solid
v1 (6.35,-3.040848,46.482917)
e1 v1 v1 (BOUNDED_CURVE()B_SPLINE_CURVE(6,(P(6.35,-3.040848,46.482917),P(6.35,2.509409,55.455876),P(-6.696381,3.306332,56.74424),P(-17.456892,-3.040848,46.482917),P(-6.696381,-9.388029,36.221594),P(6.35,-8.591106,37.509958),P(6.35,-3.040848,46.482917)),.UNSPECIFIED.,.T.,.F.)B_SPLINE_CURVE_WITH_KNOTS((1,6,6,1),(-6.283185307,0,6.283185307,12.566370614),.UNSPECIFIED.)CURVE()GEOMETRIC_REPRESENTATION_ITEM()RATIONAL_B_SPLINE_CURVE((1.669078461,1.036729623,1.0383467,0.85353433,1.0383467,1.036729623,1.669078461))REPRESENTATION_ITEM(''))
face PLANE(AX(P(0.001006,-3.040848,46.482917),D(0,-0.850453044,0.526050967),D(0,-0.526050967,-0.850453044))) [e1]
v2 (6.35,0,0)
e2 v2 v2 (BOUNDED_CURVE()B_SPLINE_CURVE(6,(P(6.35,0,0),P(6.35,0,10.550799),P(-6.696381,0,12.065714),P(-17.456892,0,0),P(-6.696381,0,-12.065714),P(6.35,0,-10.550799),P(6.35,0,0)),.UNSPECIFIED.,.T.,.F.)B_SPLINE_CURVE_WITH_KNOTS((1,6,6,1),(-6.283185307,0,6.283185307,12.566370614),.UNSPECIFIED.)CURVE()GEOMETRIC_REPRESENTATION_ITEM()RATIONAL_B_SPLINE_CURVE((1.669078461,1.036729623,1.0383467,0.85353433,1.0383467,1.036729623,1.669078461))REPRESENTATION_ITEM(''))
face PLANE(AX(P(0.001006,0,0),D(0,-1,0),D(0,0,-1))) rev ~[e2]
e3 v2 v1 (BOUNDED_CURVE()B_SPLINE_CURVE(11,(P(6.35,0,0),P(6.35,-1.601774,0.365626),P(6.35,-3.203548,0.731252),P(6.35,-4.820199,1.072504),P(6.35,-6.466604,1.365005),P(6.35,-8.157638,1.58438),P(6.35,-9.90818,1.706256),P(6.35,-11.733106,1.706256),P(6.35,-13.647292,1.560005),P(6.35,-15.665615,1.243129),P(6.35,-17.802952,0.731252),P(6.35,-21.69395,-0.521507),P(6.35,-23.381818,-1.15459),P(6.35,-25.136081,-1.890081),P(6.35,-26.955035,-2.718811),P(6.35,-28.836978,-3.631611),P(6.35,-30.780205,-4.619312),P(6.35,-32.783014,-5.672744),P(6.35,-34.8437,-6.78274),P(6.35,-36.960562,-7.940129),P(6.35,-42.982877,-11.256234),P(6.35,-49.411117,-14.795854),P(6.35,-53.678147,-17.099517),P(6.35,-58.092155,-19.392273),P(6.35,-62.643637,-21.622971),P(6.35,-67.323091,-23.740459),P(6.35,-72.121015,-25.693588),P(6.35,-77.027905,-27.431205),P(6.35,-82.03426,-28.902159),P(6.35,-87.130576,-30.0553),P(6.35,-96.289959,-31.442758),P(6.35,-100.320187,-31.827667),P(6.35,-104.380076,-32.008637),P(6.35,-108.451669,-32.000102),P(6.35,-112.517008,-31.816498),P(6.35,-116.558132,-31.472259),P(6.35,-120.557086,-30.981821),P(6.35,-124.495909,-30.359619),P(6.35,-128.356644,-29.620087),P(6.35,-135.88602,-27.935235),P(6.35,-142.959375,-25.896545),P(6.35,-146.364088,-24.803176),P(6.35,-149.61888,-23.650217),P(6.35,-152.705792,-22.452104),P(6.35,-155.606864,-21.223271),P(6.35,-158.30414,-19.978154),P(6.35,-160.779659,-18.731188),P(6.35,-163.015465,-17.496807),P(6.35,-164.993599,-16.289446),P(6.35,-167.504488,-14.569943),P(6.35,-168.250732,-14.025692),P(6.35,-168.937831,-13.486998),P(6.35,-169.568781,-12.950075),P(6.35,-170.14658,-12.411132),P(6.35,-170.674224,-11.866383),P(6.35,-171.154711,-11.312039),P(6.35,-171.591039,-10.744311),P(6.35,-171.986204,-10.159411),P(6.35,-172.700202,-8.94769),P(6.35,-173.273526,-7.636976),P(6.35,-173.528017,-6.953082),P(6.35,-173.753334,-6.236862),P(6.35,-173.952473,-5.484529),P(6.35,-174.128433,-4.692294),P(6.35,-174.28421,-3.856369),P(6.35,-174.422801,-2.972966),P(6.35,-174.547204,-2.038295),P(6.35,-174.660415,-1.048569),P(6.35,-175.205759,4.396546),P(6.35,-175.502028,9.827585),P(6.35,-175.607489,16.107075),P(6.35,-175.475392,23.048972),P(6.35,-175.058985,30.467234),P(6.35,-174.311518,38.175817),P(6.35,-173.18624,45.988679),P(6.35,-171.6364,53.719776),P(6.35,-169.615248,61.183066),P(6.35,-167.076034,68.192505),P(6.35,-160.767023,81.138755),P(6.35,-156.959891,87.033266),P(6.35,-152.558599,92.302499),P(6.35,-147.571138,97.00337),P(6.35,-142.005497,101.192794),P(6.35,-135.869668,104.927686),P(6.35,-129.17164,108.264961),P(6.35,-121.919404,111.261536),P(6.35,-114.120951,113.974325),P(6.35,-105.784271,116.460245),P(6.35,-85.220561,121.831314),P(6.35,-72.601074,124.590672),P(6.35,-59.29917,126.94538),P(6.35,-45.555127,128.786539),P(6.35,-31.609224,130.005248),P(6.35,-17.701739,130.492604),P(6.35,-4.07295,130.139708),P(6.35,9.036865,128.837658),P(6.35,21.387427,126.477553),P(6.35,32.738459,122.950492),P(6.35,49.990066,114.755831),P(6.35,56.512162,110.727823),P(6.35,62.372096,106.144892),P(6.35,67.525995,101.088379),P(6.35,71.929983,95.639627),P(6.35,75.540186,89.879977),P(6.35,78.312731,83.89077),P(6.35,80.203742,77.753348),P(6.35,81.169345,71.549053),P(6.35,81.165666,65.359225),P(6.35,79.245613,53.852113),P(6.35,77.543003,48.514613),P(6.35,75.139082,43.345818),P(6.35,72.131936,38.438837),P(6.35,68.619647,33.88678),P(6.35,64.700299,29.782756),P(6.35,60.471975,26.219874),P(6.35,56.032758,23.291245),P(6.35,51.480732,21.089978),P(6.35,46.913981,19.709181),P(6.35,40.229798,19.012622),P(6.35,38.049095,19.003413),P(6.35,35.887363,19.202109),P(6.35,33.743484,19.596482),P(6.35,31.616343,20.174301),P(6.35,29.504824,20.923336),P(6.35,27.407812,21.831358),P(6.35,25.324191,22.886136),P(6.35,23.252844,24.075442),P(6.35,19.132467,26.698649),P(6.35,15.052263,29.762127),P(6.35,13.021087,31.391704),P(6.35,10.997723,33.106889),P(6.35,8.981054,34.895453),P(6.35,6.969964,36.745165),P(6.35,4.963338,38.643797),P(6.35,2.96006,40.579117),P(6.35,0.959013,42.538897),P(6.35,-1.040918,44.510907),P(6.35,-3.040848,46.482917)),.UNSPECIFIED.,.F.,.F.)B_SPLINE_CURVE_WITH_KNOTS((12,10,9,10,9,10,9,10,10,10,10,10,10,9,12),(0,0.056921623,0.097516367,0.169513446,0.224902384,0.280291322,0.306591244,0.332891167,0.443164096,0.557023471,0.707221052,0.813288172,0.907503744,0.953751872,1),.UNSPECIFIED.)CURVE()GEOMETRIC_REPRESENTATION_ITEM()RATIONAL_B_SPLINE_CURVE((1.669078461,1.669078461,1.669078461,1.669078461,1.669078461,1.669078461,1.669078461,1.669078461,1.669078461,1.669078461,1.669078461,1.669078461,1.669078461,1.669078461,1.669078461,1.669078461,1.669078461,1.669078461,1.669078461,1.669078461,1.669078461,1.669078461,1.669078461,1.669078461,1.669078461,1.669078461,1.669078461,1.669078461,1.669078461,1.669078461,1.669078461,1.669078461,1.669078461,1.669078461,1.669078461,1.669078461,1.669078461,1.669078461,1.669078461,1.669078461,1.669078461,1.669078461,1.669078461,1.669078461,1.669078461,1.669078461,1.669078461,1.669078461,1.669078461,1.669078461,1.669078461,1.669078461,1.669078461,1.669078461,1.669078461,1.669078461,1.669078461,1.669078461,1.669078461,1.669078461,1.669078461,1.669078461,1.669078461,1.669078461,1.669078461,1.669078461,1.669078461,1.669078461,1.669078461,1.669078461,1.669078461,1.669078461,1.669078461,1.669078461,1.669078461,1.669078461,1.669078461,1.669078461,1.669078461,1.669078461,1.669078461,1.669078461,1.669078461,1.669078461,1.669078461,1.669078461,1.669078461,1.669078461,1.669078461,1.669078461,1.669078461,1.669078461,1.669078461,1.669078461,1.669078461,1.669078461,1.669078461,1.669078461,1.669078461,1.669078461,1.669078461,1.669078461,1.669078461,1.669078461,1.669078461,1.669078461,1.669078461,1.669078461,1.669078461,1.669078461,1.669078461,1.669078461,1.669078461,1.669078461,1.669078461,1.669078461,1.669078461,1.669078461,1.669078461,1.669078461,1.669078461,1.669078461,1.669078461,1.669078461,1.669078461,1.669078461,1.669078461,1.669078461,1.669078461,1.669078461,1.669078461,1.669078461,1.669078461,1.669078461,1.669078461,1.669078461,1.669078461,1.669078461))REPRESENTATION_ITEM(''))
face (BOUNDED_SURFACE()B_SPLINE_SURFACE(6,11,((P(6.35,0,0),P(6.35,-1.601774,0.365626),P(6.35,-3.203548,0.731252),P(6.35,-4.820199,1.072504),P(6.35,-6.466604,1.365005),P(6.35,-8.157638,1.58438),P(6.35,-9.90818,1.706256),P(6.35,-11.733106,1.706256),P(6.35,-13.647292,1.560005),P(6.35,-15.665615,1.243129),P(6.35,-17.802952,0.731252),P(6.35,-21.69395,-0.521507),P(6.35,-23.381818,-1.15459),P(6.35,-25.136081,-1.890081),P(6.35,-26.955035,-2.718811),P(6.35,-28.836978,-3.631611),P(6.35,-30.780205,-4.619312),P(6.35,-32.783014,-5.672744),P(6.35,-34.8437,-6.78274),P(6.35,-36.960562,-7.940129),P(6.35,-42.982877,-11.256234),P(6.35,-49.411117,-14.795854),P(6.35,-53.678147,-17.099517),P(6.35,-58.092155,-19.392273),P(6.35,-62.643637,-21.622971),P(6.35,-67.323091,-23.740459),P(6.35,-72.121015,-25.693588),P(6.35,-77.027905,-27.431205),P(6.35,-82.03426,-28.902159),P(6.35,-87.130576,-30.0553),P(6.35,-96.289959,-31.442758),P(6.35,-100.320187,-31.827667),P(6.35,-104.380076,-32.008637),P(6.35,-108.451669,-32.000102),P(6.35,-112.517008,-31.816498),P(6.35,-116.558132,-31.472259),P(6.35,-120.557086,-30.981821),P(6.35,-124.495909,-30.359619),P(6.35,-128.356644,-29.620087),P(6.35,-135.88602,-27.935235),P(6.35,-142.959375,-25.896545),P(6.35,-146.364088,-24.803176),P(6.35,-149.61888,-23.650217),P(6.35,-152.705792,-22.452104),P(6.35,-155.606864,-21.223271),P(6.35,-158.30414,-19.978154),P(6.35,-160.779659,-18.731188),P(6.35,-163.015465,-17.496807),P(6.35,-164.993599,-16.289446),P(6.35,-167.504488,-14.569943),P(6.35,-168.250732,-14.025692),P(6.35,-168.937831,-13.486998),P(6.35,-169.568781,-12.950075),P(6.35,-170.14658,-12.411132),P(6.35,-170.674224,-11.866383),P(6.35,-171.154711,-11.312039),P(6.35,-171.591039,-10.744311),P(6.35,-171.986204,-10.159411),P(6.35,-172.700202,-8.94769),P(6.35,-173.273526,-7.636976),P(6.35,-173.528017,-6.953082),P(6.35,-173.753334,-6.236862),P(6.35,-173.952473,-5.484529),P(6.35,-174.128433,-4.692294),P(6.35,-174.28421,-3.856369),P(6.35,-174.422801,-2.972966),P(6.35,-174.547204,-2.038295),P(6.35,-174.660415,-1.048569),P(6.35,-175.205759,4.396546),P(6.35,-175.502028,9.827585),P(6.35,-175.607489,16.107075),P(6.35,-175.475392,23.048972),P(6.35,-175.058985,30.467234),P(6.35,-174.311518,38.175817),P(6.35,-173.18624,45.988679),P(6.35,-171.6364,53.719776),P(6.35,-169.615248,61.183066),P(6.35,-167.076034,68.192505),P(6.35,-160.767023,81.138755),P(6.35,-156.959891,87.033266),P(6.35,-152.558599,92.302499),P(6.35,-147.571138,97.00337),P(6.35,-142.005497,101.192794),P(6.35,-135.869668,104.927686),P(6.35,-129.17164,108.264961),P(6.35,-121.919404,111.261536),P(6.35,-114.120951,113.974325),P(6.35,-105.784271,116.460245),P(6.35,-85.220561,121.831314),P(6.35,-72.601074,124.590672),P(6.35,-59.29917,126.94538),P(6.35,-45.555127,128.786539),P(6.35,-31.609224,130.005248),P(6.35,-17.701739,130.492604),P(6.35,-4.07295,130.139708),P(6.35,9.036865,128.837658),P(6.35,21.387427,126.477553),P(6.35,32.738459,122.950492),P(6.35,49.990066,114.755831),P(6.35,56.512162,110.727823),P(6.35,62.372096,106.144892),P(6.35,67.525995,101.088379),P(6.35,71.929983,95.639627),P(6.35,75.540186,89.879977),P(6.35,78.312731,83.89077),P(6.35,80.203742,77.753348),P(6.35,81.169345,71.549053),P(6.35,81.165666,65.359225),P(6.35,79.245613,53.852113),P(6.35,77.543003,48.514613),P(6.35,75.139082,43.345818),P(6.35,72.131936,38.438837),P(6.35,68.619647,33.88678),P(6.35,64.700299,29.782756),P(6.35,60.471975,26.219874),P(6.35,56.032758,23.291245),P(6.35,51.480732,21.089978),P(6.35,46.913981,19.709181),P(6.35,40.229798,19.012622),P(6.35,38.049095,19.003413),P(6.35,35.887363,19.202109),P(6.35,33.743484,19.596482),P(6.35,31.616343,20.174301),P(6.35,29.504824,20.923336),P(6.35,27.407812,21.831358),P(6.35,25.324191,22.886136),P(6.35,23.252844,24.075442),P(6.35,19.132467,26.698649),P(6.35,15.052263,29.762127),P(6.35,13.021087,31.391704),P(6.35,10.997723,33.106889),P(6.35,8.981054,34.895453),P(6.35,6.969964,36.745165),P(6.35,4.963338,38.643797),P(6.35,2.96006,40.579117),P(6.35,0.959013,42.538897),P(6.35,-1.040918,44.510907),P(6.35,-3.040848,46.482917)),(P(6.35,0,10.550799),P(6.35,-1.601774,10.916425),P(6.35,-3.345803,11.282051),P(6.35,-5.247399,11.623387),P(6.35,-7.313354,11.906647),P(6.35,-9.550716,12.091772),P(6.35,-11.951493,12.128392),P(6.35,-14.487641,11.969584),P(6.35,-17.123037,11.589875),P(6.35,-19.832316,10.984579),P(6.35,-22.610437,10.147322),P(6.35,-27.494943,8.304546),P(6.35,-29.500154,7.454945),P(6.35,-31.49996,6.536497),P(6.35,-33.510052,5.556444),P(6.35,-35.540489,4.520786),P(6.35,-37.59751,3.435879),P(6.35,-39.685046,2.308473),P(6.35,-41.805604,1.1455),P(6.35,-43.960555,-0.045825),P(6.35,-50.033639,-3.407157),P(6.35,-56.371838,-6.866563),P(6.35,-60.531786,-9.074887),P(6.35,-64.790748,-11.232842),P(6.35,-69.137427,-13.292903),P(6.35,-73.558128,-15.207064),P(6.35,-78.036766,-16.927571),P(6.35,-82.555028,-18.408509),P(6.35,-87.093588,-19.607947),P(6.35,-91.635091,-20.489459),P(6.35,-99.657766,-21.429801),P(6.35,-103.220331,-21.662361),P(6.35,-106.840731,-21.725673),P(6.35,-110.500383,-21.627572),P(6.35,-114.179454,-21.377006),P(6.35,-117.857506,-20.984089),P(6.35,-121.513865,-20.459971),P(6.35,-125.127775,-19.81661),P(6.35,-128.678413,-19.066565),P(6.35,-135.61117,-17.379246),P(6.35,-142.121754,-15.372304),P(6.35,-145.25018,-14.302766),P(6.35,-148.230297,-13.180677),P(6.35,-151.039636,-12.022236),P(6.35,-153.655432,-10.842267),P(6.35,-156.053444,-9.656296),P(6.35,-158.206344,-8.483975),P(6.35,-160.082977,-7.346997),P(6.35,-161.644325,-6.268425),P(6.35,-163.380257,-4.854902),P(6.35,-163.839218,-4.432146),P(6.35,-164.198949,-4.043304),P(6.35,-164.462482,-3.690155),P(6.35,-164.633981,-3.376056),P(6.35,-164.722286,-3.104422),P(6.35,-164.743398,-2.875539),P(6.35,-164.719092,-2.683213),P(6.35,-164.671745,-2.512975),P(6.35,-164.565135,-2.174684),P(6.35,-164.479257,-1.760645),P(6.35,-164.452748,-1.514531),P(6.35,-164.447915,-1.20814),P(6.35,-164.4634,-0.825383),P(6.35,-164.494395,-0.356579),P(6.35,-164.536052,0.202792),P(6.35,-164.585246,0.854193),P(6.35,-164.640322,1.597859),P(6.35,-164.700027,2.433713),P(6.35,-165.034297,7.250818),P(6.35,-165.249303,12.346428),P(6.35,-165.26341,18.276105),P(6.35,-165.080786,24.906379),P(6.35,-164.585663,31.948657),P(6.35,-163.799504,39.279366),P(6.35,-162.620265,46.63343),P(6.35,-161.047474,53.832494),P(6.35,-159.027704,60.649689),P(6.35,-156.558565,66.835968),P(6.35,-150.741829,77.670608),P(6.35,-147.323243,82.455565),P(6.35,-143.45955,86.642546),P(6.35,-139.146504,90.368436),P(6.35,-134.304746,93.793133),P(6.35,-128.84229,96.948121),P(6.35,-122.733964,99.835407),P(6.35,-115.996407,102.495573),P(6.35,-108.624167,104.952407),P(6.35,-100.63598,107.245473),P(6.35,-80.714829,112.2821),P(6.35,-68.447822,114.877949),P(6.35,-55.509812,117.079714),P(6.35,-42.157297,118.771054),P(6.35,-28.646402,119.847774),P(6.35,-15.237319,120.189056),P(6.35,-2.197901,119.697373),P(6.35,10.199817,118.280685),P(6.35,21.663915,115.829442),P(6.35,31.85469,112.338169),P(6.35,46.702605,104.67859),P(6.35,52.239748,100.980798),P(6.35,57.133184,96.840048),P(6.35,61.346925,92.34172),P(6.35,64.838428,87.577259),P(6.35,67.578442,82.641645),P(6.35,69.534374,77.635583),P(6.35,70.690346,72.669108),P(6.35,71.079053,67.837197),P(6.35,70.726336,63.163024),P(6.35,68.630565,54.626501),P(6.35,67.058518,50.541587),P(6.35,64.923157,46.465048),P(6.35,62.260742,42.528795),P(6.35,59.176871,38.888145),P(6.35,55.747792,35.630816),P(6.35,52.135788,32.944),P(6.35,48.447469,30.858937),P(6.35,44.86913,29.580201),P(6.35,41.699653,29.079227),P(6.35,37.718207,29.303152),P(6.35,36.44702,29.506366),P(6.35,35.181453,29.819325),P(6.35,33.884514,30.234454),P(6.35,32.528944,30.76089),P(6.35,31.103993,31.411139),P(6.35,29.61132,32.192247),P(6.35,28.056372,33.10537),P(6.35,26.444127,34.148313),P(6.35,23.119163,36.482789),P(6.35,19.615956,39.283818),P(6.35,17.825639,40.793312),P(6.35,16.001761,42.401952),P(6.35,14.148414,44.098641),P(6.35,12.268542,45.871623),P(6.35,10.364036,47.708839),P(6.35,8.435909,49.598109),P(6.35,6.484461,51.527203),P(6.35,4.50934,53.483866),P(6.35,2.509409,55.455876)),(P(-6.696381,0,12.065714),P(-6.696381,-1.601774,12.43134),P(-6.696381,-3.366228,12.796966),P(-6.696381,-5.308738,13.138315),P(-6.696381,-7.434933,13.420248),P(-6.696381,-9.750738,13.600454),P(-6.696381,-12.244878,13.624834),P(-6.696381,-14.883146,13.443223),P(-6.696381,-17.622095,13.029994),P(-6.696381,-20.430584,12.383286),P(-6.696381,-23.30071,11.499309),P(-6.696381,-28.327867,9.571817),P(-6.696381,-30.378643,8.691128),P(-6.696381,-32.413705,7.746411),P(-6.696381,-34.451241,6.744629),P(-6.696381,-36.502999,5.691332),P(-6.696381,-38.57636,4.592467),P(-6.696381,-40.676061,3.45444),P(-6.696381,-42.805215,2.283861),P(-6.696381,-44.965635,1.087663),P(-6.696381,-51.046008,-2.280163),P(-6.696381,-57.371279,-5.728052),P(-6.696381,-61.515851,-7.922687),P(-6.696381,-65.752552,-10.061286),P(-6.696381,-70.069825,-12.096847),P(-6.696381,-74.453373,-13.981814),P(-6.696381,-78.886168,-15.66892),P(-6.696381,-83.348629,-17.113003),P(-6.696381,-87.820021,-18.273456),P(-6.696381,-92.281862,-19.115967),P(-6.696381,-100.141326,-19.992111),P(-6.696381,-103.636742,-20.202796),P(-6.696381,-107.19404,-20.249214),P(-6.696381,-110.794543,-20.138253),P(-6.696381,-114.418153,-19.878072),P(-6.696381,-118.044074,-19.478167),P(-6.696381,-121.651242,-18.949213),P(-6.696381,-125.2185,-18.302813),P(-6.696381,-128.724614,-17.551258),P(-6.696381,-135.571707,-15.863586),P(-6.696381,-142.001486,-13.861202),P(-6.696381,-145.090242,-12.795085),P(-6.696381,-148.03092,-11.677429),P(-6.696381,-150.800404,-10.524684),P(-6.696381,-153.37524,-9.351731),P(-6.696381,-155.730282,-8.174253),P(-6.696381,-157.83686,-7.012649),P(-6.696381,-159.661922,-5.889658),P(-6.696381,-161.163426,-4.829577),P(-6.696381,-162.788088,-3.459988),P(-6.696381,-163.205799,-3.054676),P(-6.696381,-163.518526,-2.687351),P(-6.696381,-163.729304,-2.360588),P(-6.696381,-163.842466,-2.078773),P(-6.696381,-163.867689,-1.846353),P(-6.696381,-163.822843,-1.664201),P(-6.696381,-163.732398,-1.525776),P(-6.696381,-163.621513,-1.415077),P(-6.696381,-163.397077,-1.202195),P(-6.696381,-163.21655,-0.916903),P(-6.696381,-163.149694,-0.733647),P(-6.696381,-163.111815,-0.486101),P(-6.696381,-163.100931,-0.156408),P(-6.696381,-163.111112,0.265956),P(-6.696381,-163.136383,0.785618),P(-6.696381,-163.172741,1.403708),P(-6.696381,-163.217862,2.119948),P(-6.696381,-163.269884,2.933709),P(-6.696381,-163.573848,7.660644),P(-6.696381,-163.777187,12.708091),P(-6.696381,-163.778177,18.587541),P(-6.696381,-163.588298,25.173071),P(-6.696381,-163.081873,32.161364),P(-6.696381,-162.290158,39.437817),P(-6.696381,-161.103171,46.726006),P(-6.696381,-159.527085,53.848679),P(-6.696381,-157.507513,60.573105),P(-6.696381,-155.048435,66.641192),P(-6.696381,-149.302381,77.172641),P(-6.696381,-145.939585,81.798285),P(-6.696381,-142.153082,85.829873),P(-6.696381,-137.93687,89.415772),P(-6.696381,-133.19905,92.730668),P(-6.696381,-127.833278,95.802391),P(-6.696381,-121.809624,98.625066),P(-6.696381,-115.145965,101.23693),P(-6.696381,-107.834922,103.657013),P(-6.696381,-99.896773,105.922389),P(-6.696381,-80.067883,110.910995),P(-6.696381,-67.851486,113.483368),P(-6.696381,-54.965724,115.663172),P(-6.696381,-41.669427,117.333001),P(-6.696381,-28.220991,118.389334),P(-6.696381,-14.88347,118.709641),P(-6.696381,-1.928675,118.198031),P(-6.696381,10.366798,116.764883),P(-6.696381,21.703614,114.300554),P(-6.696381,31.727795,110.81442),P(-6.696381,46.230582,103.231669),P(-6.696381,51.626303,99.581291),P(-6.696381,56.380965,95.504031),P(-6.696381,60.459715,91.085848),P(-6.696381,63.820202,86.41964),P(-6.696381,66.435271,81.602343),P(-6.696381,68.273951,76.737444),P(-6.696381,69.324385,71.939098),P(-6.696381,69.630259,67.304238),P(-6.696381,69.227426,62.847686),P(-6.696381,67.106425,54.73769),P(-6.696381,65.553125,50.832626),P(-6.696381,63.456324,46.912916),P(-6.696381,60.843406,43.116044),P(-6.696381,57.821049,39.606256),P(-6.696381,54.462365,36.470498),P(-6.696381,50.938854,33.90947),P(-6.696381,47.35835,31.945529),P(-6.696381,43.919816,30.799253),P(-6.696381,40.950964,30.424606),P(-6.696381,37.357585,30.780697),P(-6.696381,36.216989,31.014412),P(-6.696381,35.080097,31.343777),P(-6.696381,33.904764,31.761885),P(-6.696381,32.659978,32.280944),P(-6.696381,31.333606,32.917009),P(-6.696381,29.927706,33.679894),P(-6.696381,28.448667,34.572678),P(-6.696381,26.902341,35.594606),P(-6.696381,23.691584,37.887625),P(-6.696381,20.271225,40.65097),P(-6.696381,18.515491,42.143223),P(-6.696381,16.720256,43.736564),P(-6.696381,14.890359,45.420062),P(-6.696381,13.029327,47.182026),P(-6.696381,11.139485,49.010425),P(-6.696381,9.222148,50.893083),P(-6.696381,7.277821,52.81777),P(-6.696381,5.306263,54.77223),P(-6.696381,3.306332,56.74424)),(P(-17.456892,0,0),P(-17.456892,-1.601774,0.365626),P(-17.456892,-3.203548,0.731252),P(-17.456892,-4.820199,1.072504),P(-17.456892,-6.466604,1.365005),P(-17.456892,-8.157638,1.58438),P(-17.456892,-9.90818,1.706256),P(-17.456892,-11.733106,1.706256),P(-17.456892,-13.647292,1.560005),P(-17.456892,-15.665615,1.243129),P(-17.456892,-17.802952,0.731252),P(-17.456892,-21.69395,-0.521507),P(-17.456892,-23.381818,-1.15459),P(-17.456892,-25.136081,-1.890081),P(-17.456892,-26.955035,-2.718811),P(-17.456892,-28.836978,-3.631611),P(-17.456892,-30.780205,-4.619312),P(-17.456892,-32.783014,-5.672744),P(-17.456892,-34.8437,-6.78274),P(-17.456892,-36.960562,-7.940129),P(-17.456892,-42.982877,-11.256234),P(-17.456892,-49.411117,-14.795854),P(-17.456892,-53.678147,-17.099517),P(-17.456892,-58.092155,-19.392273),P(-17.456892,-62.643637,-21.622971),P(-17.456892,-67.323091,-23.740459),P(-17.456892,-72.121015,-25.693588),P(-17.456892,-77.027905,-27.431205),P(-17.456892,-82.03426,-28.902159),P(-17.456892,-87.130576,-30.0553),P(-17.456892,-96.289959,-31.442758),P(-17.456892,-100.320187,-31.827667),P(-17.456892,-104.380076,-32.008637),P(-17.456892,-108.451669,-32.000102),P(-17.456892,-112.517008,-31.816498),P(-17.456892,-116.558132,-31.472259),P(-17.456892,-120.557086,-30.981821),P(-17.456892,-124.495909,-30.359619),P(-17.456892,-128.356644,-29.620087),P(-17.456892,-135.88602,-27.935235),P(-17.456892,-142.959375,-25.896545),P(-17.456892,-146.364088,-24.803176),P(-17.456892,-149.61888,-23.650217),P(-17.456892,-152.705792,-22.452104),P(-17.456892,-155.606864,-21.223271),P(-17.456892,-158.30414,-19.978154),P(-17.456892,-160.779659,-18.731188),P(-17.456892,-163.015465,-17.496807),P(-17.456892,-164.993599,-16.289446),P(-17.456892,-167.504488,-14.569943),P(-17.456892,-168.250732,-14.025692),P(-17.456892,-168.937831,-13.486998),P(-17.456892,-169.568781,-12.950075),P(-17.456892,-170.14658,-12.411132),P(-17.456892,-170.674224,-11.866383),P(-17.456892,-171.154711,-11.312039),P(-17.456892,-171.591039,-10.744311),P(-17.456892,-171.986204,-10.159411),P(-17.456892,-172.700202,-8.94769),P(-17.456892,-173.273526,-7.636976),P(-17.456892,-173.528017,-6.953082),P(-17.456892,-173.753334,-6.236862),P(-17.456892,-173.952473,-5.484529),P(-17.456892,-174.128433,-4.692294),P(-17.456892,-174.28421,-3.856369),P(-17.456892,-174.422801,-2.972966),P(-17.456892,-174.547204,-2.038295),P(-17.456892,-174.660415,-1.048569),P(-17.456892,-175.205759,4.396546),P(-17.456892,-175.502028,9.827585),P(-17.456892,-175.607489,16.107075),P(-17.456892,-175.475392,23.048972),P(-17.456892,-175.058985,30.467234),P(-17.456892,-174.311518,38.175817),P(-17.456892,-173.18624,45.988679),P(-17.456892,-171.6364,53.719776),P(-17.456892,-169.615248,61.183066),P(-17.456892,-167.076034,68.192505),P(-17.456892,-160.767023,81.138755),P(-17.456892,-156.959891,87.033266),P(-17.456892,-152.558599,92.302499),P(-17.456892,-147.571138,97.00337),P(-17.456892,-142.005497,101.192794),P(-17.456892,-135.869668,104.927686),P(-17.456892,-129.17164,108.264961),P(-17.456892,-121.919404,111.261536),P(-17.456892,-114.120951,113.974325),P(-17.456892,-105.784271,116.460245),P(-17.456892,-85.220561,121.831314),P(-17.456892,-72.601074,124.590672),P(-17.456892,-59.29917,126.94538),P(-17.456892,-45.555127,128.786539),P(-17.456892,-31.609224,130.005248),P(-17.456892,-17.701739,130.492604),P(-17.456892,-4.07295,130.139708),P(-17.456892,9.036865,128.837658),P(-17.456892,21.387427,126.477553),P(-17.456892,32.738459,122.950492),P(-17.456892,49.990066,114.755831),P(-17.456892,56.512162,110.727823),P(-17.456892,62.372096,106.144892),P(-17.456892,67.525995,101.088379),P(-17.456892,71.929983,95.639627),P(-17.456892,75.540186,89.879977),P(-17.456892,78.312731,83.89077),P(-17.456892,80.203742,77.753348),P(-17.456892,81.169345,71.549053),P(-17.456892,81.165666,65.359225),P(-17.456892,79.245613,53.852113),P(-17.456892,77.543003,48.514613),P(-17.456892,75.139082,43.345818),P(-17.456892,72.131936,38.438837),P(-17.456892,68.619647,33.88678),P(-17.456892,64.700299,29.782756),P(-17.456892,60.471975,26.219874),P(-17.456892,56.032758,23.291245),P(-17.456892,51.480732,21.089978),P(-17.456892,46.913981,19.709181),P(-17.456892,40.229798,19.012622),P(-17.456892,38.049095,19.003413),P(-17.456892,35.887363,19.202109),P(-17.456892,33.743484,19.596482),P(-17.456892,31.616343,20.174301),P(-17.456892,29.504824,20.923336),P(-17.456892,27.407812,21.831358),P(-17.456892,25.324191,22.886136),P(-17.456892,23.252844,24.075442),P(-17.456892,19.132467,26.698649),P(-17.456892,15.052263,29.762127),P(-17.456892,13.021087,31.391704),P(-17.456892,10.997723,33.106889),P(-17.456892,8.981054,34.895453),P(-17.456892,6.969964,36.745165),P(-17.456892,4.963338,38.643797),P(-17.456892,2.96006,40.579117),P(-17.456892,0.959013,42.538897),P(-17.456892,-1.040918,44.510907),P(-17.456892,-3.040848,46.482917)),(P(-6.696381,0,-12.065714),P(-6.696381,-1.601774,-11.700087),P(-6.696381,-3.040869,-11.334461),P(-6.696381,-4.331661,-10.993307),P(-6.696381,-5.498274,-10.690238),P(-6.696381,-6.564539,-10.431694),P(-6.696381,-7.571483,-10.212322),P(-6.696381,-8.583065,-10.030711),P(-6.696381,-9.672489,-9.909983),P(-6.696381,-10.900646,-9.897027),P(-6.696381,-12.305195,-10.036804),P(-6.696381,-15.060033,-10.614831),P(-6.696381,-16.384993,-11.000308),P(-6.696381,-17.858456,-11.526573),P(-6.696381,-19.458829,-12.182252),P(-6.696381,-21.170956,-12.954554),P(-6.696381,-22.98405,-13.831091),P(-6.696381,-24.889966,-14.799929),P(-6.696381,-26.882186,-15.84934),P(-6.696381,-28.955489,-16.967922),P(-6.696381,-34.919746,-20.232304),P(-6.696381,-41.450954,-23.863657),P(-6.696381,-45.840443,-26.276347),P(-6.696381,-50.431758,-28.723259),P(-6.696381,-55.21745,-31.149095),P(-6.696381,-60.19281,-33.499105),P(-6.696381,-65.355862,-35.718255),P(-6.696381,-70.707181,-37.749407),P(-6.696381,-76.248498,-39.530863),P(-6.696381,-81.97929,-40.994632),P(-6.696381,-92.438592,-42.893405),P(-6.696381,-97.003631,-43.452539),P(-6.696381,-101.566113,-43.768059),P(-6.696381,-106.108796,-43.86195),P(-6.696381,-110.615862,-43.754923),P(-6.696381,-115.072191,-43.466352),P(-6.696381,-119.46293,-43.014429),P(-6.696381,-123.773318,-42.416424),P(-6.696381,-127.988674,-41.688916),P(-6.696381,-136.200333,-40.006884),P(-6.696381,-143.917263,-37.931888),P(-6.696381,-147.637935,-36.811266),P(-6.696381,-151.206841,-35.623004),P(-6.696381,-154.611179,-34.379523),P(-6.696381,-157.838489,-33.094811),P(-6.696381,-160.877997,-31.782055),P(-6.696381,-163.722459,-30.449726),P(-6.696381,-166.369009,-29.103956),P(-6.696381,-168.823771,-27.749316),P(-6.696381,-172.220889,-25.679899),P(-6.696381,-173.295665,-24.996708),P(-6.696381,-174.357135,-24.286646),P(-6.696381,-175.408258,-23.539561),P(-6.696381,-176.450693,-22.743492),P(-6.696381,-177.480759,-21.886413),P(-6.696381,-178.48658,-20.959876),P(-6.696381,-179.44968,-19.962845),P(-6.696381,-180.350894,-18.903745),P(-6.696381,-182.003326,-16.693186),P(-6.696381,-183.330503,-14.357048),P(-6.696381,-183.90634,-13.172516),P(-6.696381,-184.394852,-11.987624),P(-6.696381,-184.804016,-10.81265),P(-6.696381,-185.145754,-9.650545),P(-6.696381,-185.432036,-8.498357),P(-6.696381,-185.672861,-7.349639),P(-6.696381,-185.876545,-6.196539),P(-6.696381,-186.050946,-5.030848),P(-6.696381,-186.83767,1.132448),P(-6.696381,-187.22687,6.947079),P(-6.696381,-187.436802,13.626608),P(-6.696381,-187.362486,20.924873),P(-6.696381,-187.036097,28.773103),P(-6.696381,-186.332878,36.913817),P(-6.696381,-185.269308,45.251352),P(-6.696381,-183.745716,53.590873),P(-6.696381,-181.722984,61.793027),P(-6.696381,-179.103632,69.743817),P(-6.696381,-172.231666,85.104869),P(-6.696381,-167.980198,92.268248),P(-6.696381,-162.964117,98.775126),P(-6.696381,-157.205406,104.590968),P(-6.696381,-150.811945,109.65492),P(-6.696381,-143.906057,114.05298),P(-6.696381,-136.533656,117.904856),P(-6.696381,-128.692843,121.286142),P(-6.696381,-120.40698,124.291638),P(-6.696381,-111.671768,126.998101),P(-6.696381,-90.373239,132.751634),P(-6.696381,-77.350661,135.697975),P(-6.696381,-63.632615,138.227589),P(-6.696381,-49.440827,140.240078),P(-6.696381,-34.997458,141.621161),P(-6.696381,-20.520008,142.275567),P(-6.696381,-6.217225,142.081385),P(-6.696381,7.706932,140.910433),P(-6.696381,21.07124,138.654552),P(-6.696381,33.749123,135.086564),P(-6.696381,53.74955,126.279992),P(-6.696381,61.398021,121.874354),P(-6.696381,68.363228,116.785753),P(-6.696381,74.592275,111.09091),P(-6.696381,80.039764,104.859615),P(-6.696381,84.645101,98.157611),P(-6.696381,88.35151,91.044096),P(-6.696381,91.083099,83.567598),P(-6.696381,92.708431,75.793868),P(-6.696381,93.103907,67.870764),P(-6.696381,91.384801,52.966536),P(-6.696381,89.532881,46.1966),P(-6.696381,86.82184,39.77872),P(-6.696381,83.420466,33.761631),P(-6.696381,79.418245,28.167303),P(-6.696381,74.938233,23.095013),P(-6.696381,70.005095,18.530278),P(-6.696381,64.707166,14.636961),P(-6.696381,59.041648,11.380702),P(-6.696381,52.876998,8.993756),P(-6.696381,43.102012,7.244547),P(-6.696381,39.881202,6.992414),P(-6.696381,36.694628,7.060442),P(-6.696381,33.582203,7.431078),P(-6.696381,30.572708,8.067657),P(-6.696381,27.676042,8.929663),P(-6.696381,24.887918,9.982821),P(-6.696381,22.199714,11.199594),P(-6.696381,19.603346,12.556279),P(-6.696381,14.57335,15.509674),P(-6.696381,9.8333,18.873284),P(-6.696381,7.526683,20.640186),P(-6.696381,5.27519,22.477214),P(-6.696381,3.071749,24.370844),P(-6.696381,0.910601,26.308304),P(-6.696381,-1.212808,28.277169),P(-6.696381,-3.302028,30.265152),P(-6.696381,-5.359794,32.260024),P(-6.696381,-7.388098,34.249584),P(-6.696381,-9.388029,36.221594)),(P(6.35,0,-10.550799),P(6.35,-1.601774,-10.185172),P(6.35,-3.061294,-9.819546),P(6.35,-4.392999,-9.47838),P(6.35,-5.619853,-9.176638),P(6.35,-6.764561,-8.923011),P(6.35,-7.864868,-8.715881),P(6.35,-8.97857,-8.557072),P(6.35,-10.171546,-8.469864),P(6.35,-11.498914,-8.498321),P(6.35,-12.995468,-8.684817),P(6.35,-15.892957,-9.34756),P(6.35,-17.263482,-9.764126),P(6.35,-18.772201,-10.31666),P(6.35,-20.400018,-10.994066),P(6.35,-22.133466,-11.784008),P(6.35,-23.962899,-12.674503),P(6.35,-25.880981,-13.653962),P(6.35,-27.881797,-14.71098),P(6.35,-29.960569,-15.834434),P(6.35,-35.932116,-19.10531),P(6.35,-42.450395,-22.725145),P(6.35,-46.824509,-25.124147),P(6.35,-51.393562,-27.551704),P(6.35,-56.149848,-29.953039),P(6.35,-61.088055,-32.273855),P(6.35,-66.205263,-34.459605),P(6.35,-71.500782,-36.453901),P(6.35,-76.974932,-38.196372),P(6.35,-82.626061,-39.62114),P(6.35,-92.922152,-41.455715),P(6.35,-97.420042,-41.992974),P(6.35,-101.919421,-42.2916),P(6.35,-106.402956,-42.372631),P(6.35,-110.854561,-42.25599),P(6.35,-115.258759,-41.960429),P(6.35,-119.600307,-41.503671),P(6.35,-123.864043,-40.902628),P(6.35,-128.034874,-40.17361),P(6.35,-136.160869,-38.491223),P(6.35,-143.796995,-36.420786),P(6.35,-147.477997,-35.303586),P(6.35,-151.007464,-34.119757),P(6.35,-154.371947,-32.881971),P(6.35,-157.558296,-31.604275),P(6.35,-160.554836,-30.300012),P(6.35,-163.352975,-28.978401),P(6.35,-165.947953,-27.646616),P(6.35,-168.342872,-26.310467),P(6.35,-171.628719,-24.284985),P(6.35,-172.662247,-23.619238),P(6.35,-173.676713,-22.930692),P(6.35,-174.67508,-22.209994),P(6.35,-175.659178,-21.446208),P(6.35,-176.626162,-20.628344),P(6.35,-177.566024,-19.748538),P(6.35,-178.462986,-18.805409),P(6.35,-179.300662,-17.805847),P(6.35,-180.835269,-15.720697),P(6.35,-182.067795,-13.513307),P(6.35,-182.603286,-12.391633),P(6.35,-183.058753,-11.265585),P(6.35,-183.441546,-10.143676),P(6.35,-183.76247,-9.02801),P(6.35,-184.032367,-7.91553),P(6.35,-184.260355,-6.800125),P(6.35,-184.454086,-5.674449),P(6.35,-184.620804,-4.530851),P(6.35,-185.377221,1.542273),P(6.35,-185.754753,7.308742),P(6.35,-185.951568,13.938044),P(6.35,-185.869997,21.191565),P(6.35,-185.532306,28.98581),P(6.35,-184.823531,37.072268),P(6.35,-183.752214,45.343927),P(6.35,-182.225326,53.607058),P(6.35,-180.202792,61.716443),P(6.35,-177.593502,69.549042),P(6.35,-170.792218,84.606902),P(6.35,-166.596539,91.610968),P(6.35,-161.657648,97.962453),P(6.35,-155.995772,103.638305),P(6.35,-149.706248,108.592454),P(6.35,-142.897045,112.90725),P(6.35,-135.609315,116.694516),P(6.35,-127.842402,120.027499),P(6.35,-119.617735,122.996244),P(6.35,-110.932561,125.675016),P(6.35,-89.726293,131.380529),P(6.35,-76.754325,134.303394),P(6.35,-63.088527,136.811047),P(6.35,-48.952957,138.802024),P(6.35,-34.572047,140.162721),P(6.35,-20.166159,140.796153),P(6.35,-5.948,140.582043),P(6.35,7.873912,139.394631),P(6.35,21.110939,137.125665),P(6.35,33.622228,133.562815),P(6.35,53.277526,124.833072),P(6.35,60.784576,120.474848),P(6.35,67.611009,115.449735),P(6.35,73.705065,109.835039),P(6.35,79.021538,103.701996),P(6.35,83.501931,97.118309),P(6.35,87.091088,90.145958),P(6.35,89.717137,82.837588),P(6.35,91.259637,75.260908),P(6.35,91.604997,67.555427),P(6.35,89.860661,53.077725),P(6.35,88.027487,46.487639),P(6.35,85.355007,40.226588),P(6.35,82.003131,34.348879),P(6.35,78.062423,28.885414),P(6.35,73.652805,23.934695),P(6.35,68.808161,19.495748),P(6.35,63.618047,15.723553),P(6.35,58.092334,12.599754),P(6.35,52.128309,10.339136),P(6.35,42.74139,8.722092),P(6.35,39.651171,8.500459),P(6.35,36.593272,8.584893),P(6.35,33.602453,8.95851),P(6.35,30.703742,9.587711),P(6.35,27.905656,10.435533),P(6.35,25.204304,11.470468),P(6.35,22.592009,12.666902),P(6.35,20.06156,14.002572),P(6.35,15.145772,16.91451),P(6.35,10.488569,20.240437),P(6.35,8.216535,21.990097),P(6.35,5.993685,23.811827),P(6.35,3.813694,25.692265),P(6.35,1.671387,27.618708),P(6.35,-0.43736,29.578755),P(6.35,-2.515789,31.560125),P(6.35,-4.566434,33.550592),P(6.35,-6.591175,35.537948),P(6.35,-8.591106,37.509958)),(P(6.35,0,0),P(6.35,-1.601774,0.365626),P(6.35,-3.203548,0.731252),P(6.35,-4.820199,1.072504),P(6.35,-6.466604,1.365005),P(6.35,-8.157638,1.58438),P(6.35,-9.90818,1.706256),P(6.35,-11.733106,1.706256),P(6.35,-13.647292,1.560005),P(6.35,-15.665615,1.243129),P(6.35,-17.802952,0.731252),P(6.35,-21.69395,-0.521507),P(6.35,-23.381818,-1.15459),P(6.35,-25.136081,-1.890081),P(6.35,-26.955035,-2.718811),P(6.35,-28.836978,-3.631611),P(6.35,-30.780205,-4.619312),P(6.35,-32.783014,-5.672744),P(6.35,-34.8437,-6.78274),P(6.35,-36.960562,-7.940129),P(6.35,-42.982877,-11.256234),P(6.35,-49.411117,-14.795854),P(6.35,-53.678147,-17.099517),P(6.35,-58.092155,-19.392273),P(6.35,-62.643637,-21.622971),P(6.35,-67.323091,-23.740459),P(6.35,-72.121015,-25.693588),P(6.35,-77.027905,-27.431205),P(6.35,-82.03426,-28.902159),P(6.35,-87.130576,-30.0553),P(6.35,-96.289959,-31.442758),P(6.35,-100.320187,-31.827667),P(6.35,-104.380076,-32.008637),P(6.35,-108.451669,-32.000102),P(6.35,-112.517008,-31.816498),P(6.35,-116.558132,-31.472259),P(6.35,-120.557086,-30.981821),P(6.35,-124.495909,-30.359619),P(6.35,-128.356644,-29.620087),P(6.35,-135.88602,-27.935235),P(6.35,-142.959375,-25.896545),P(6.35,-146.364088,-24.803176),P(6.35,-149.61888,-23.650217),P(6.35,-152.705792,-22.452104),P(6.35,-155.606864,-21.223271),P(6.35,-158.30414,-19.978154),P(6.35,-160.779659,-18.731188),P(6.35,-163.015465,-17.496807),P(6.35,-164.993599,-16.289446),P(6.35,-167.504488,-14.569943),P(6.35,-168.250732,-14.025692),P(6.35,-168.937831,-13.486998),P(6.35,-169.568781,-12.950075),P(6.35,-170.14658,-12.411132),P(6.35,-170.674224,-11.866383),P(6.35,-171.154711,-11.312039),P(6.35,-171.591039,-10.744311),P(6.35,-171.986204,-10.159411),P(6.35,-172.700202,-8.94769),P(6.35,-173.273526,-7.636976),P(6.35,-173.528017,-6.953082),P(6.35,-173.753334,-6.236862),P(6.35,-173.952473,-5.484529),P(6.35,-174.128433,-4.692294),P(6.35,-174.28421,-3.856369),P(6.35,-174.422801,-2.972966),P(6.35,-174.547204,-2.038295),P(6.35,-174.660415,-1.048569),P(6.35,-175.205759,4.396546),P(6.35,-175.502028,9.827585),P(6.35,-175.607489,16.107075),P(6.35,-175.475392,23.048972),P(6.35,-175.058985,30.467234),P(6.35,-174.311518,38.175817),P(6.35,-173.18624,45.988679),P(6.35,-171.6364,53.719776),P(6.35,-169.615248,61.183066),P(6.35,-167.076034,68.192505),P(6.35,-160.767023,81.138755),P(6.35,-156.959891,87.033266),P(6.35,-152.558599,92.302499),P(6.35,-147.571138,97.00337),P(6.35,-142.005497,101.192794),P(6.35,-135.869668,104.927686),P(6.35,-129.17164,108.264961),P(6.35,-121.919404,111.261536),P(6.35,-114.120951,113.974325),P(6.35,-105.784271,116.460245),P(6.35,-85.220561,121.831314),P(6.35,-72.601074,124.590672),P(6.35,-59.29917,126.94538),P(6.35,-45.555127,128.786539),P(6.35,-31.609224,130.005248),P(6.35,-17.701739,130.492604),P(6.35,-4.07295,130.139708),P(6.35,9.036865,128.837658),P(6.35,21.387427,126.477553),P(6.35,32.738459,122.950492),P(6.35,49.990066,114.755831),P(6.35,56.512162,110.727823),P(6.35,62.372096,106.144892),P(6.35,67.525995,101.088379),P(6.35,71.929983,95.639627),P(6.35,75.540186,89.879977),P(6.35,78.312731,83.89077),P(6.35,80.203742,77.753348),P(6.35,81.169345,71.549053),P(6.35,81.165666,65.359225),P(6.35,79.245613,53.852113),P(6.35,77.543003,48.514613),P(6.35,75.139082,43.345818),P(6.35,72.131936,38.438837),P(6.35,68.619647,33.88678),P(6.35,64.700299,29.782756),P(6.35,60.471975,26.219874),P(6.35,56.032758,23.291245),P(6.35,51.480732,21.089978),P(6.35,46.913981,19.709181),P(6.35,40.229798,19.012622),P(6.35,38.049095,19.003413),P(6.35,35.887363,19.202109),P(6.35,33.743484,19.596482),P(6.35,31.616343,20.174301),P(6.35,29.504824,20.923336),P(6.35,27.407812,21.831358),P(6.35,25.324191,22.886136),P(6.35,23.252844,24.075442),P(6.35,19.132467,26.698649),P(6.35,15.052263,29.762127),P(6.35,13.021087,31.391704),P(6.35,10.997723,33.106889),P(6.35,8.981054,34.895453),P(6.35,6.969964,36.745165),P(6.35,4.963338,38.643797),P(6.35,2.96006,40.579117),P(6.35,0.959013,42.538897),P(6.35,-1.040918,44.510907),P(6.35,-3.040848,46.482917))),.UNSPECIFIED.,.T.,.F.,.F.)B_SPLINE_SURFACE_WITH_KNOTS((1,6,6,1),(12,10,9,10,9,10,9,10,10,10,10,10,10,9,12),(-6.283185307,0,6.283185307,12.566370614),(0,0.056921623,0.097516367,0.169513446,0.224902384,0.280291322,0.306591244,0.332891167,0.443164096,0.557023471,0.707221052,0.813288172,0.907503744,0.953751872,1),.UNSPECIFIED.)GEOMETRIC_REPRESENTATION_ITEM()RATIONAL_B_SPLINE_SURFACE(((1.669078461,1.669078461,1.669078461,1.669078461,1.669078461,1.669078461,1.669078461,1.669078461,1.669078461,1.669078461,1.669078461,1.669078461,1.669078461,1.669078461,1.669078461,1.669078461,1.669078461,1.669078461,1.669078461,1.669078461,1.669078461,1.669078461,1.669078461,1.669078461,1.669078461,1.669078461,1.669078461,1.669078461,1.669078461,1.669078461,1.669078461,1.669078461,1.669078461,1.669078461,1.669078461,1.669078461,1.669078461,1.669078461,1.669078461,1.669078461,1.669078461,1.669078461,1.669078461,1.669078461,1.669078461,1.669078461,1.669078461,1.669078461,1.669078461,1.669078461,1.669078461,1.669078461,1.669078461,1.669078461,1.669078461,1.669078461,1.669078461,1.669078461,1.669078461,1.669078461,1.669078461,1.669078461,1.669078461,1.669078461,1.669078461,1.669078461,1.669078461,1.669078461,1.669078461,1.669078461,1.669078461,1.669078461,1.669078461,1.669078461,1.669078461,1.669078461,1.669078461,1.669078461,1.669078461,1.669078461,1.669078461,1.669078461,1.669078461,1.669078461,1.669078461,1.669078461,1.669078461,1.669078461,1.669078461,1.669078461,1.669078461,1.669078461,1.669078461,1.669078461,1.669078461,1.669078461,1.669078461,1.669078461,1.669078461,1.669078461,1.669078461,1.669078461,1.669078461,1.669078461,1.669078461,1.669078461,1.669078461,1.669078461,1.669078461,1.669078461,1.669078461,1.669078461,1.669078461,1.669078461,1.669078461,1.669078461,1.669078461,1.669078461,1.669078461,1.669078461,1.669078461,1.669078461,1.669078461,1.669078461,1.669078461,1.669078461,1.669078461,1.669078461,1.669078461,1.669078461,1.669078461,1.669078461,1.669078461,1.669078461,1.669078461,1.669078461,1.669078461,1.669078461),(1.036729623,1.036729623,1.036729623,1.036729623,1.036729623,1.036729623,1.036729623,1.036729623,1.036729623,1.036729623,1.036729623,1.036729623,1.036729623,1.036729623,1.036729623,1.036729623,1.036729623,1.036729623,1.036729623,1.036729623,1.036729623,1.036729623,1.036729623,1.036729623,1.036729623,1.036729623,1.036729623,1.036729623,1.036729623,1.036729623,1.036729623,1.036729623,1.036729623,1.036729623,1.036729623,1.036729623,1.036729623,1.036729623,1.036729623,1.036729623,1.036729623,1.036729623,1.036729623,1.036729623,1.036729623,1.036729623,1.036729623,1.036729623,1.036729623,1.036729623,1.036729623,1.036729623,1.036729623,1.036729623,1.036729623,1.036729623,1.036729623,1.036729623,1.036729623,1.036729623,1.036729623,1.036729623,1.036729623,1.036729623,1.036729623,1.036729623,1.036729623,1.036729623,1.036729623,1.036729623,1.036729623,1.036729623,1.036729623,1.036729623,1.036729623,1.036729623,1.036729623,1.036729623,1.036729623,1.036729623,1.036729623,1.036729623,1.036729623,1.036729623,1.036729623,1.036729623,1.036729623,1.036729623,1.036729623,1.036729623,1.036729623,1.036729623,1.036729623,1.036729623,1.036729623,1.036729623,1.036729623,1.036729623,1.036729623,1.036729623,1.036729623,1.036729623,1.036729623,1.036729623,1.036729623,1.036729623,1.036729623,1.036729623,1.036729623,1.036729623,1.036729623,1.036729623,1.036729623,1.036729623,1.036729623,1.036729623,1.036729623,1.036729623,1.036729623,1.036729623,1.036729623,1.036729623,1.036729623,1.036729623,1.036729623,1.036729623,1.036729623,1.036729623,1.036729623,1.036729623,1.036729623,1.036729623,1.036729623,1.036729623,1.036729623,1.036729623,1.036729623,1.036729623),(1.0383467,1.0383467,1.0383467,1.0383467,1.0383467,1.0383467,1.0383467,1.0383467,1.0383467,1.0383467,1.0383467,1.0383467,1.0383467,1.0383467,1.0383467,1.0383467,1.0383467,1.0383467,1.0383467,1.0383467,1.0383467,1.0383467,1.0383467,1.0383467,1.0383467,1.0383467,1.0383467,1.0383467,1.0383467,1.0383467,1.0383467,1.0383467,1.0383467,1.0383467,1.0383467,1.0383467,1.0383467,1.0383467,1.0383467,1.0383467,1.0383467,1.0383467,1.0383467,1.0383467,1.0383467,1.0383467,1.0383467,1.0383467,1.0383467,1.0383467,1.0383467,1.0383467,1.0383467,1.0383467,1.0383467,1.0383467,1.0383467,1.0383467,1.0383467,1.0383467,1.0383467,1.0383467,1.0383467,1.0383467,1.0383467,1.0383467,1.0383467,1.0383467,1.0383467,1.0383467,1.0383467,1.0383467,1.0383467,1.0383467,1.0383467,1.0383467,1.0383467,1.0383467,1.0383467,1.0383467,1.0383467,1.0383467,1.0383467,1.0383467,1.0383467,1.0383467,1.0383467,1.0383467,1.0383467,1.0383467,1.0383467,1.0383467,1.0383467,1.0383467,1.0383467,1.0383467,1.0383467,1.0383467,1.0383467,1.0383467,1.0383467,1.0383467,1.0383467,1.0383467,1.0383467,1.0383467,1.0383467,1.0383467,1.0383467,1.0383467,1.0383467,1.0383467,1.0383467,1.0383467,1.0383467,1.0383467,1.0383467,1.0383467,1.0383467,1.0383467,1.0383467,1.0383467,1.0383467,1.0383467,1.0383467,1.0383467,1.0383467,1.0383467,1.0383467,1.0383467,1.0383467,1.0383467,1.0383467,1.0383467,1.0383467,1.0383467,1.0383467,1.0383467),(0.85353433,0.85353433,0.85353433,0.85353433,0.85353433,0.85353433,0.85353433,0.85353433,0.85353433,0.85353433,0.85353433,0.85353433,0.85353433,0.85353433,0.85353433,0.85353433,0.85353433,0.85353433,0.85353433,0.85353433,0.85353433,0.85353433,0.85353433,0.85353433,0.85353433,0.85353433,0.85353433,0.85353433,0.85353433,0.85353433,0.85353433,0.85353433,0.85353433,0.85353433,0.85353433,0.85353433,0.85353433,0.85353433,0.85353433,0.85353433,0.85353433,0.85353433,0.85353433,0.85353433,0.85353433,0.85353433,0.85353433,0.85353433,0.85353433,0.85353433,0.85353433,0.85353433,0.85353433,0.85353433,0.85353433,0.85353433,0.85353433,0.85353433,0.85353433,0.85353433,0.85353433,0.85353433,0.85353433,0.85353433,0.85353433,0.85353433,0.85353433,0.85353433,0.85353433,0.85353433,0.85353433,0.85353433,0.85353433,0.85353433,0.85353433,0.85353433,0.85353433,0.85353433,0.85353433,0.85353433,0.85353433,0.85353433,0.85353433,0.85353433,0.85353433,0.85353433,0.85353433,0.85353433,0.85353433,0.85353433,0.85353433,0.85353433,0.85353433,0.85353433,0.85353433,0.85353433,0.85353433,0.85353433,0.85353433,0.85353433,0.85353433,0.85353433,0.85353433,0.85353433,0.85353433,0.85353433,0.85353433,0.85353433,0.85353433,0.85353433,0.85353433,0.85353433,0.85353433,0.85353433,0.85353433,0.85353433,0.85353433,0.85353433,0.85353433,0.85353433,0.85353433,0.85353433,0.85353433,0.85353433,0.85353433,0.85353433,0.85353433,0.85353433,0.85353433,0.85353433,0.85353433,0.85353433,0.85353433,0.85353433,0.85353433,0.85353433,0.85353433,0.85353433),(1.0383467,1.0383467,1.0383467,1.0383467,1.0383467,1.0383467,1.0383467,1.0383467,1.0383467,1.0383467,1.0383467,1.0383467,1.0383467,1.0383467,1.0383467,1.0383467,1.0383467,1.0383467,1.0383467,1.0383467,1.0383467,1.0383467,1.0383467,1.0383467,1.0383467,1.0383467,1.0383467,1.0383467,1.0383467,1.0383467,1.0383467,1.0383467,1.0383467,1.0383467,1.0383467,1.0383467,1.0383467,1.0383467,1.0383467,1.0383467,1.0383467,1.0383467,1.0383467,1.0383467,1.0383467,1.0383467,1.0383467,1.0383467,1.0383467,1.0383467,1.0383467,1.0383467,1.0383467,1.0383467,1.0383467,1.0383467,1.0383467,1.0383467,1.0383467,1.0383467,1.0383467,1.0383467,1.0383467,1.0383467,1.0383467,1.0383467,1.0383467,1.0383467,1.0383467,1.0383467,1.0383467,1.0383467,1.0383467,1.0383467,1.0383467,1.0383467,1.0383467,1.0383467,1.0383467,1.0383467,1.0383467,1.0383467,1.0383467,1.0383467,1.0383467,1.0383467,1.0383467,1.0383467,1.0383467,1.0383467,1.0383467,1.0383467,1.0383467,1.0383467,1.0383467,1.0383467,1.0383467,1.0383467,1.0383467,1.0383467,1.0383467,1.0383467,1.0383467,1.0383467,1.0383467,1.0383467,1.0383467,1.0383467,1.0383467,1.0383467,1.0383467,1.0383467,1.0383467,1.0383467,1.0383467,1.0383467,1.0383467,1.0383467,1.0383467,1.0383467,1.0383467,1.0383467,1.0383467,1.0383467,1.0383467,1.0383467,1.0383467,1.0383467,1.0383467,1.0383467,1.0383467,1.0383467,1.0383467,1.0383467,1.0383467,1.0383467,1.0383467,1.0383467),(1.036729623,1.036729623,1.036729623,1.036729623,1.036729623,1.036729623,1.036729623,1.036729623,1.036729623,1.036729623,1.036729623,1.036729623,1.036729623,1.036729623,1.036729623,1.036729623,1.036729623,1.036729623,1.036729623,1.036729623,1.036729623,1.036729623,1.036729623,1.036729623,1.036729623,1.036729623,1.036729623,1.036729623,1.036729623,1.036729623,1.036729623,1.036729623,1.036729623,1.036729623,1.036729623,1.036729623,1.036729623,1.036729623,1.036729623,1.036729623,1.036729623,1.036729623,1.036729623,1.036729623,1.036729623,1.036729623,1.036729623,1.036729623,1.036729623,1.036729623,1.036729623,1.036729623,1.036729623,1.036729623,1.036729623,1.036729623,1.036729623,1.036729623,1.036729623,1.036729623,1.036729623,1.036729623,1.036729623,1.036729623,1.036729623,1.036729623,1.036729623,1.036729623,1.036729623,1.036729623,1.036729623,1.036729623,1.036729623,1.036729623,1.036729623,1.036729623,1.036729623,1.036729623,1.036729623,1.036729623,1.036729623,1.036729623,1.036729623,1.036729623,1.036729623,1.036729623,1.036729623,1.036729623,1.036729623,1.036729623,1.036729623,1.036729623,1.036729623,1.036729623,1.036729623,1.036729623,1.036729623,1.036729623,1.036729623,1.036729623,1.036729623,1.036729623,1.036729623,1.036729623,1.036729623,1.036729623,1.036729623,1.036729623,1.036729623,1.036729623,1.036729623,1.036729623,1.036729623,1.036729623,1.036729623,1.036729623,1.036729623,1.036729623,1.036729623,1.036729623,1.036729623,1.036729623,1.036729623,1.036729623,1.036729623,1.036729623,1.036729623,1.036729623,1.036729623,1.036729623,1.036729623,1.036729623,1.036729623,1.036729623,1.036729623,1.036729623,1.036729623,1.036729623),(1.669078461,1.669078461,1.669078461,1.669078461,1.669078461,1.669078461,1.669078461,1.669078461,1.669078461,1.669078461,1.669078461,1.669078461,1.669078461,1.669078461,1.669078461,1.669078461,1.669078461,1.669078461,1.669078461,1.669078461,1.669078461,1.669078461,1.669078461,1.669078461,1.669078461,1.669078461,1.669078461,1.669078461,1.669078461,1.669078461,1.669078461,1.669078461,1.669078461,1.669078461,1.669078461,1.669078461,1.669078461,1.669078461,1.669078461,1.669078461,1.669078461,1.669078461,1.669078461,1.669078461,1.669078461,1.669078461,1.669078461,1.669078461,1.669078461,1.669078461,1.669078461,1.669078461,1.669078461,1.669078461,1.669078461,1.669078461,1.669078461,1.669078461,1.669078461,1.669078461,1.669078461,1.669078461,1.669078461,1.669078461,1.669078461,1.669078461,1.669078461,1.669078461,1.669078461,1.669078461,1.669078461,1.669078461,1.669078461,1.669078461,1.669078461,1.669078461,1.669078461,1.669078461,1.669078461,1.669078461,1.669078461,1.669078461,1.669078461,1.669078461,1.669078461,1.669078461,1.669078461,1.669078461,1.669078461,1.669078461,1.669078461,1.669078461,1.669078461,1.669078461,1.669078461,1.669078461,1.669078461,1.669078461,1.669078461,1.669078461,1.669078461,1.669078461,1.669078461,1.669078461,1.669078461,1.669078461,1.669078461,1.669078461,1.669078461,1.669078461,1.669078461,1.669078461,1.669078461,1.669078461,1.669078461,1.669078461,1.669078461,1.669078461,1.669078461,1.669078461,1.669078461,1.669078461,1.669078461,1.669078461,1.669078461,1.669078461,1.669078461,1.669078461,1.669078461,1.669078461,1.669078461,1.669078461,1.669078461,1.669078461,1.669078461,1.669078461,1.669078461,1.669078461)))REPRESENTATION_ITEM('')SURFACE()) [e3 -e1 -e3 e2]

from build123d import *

# Parameters (mm, degrees)
F1_R = 6.35


with BuildPart() as f2:
    # F2: sweep along a path in F0
    with BuildLine(Plane.YZ) as f2_path:
        add(Plane.YZ * Edge.make_bspline(
            [(0, 0), (-5.8731720229, 1.3406295555), (-23.3635663077, 5.333044459), (-88.2797797491, -47.0433771755), (-169.7368056386, -18.1702953419), (-176.8696105578, -0.6154283736), (-174.2935357533, 87.4345593732), (-99.3646081771, 125.596640644), (48.0080417599, 139.840025939), (97.0645120062, 60.2016810119), (41.2302428063, 2.8298933627), (11.6253108484, 32.0215116382), (-3.0408482999, 46.4829169214)],
            knots=[0, 0, 0, 0, 0.0569216228, 0.1695134457, 0.2802913215, 0.3328911671, 0.4431640963, 0.5570234714, 0.7072210521, 0.8132881724, 0.9075037436, 1, 1, 1, 1], degree=3))
    # F1 (on Front) → F2 (sweep)
    with BuildSketch(Plane.XZ):
        Circle(F1_R)
    sweep(path=f2_path.line)


solid = f2.part
